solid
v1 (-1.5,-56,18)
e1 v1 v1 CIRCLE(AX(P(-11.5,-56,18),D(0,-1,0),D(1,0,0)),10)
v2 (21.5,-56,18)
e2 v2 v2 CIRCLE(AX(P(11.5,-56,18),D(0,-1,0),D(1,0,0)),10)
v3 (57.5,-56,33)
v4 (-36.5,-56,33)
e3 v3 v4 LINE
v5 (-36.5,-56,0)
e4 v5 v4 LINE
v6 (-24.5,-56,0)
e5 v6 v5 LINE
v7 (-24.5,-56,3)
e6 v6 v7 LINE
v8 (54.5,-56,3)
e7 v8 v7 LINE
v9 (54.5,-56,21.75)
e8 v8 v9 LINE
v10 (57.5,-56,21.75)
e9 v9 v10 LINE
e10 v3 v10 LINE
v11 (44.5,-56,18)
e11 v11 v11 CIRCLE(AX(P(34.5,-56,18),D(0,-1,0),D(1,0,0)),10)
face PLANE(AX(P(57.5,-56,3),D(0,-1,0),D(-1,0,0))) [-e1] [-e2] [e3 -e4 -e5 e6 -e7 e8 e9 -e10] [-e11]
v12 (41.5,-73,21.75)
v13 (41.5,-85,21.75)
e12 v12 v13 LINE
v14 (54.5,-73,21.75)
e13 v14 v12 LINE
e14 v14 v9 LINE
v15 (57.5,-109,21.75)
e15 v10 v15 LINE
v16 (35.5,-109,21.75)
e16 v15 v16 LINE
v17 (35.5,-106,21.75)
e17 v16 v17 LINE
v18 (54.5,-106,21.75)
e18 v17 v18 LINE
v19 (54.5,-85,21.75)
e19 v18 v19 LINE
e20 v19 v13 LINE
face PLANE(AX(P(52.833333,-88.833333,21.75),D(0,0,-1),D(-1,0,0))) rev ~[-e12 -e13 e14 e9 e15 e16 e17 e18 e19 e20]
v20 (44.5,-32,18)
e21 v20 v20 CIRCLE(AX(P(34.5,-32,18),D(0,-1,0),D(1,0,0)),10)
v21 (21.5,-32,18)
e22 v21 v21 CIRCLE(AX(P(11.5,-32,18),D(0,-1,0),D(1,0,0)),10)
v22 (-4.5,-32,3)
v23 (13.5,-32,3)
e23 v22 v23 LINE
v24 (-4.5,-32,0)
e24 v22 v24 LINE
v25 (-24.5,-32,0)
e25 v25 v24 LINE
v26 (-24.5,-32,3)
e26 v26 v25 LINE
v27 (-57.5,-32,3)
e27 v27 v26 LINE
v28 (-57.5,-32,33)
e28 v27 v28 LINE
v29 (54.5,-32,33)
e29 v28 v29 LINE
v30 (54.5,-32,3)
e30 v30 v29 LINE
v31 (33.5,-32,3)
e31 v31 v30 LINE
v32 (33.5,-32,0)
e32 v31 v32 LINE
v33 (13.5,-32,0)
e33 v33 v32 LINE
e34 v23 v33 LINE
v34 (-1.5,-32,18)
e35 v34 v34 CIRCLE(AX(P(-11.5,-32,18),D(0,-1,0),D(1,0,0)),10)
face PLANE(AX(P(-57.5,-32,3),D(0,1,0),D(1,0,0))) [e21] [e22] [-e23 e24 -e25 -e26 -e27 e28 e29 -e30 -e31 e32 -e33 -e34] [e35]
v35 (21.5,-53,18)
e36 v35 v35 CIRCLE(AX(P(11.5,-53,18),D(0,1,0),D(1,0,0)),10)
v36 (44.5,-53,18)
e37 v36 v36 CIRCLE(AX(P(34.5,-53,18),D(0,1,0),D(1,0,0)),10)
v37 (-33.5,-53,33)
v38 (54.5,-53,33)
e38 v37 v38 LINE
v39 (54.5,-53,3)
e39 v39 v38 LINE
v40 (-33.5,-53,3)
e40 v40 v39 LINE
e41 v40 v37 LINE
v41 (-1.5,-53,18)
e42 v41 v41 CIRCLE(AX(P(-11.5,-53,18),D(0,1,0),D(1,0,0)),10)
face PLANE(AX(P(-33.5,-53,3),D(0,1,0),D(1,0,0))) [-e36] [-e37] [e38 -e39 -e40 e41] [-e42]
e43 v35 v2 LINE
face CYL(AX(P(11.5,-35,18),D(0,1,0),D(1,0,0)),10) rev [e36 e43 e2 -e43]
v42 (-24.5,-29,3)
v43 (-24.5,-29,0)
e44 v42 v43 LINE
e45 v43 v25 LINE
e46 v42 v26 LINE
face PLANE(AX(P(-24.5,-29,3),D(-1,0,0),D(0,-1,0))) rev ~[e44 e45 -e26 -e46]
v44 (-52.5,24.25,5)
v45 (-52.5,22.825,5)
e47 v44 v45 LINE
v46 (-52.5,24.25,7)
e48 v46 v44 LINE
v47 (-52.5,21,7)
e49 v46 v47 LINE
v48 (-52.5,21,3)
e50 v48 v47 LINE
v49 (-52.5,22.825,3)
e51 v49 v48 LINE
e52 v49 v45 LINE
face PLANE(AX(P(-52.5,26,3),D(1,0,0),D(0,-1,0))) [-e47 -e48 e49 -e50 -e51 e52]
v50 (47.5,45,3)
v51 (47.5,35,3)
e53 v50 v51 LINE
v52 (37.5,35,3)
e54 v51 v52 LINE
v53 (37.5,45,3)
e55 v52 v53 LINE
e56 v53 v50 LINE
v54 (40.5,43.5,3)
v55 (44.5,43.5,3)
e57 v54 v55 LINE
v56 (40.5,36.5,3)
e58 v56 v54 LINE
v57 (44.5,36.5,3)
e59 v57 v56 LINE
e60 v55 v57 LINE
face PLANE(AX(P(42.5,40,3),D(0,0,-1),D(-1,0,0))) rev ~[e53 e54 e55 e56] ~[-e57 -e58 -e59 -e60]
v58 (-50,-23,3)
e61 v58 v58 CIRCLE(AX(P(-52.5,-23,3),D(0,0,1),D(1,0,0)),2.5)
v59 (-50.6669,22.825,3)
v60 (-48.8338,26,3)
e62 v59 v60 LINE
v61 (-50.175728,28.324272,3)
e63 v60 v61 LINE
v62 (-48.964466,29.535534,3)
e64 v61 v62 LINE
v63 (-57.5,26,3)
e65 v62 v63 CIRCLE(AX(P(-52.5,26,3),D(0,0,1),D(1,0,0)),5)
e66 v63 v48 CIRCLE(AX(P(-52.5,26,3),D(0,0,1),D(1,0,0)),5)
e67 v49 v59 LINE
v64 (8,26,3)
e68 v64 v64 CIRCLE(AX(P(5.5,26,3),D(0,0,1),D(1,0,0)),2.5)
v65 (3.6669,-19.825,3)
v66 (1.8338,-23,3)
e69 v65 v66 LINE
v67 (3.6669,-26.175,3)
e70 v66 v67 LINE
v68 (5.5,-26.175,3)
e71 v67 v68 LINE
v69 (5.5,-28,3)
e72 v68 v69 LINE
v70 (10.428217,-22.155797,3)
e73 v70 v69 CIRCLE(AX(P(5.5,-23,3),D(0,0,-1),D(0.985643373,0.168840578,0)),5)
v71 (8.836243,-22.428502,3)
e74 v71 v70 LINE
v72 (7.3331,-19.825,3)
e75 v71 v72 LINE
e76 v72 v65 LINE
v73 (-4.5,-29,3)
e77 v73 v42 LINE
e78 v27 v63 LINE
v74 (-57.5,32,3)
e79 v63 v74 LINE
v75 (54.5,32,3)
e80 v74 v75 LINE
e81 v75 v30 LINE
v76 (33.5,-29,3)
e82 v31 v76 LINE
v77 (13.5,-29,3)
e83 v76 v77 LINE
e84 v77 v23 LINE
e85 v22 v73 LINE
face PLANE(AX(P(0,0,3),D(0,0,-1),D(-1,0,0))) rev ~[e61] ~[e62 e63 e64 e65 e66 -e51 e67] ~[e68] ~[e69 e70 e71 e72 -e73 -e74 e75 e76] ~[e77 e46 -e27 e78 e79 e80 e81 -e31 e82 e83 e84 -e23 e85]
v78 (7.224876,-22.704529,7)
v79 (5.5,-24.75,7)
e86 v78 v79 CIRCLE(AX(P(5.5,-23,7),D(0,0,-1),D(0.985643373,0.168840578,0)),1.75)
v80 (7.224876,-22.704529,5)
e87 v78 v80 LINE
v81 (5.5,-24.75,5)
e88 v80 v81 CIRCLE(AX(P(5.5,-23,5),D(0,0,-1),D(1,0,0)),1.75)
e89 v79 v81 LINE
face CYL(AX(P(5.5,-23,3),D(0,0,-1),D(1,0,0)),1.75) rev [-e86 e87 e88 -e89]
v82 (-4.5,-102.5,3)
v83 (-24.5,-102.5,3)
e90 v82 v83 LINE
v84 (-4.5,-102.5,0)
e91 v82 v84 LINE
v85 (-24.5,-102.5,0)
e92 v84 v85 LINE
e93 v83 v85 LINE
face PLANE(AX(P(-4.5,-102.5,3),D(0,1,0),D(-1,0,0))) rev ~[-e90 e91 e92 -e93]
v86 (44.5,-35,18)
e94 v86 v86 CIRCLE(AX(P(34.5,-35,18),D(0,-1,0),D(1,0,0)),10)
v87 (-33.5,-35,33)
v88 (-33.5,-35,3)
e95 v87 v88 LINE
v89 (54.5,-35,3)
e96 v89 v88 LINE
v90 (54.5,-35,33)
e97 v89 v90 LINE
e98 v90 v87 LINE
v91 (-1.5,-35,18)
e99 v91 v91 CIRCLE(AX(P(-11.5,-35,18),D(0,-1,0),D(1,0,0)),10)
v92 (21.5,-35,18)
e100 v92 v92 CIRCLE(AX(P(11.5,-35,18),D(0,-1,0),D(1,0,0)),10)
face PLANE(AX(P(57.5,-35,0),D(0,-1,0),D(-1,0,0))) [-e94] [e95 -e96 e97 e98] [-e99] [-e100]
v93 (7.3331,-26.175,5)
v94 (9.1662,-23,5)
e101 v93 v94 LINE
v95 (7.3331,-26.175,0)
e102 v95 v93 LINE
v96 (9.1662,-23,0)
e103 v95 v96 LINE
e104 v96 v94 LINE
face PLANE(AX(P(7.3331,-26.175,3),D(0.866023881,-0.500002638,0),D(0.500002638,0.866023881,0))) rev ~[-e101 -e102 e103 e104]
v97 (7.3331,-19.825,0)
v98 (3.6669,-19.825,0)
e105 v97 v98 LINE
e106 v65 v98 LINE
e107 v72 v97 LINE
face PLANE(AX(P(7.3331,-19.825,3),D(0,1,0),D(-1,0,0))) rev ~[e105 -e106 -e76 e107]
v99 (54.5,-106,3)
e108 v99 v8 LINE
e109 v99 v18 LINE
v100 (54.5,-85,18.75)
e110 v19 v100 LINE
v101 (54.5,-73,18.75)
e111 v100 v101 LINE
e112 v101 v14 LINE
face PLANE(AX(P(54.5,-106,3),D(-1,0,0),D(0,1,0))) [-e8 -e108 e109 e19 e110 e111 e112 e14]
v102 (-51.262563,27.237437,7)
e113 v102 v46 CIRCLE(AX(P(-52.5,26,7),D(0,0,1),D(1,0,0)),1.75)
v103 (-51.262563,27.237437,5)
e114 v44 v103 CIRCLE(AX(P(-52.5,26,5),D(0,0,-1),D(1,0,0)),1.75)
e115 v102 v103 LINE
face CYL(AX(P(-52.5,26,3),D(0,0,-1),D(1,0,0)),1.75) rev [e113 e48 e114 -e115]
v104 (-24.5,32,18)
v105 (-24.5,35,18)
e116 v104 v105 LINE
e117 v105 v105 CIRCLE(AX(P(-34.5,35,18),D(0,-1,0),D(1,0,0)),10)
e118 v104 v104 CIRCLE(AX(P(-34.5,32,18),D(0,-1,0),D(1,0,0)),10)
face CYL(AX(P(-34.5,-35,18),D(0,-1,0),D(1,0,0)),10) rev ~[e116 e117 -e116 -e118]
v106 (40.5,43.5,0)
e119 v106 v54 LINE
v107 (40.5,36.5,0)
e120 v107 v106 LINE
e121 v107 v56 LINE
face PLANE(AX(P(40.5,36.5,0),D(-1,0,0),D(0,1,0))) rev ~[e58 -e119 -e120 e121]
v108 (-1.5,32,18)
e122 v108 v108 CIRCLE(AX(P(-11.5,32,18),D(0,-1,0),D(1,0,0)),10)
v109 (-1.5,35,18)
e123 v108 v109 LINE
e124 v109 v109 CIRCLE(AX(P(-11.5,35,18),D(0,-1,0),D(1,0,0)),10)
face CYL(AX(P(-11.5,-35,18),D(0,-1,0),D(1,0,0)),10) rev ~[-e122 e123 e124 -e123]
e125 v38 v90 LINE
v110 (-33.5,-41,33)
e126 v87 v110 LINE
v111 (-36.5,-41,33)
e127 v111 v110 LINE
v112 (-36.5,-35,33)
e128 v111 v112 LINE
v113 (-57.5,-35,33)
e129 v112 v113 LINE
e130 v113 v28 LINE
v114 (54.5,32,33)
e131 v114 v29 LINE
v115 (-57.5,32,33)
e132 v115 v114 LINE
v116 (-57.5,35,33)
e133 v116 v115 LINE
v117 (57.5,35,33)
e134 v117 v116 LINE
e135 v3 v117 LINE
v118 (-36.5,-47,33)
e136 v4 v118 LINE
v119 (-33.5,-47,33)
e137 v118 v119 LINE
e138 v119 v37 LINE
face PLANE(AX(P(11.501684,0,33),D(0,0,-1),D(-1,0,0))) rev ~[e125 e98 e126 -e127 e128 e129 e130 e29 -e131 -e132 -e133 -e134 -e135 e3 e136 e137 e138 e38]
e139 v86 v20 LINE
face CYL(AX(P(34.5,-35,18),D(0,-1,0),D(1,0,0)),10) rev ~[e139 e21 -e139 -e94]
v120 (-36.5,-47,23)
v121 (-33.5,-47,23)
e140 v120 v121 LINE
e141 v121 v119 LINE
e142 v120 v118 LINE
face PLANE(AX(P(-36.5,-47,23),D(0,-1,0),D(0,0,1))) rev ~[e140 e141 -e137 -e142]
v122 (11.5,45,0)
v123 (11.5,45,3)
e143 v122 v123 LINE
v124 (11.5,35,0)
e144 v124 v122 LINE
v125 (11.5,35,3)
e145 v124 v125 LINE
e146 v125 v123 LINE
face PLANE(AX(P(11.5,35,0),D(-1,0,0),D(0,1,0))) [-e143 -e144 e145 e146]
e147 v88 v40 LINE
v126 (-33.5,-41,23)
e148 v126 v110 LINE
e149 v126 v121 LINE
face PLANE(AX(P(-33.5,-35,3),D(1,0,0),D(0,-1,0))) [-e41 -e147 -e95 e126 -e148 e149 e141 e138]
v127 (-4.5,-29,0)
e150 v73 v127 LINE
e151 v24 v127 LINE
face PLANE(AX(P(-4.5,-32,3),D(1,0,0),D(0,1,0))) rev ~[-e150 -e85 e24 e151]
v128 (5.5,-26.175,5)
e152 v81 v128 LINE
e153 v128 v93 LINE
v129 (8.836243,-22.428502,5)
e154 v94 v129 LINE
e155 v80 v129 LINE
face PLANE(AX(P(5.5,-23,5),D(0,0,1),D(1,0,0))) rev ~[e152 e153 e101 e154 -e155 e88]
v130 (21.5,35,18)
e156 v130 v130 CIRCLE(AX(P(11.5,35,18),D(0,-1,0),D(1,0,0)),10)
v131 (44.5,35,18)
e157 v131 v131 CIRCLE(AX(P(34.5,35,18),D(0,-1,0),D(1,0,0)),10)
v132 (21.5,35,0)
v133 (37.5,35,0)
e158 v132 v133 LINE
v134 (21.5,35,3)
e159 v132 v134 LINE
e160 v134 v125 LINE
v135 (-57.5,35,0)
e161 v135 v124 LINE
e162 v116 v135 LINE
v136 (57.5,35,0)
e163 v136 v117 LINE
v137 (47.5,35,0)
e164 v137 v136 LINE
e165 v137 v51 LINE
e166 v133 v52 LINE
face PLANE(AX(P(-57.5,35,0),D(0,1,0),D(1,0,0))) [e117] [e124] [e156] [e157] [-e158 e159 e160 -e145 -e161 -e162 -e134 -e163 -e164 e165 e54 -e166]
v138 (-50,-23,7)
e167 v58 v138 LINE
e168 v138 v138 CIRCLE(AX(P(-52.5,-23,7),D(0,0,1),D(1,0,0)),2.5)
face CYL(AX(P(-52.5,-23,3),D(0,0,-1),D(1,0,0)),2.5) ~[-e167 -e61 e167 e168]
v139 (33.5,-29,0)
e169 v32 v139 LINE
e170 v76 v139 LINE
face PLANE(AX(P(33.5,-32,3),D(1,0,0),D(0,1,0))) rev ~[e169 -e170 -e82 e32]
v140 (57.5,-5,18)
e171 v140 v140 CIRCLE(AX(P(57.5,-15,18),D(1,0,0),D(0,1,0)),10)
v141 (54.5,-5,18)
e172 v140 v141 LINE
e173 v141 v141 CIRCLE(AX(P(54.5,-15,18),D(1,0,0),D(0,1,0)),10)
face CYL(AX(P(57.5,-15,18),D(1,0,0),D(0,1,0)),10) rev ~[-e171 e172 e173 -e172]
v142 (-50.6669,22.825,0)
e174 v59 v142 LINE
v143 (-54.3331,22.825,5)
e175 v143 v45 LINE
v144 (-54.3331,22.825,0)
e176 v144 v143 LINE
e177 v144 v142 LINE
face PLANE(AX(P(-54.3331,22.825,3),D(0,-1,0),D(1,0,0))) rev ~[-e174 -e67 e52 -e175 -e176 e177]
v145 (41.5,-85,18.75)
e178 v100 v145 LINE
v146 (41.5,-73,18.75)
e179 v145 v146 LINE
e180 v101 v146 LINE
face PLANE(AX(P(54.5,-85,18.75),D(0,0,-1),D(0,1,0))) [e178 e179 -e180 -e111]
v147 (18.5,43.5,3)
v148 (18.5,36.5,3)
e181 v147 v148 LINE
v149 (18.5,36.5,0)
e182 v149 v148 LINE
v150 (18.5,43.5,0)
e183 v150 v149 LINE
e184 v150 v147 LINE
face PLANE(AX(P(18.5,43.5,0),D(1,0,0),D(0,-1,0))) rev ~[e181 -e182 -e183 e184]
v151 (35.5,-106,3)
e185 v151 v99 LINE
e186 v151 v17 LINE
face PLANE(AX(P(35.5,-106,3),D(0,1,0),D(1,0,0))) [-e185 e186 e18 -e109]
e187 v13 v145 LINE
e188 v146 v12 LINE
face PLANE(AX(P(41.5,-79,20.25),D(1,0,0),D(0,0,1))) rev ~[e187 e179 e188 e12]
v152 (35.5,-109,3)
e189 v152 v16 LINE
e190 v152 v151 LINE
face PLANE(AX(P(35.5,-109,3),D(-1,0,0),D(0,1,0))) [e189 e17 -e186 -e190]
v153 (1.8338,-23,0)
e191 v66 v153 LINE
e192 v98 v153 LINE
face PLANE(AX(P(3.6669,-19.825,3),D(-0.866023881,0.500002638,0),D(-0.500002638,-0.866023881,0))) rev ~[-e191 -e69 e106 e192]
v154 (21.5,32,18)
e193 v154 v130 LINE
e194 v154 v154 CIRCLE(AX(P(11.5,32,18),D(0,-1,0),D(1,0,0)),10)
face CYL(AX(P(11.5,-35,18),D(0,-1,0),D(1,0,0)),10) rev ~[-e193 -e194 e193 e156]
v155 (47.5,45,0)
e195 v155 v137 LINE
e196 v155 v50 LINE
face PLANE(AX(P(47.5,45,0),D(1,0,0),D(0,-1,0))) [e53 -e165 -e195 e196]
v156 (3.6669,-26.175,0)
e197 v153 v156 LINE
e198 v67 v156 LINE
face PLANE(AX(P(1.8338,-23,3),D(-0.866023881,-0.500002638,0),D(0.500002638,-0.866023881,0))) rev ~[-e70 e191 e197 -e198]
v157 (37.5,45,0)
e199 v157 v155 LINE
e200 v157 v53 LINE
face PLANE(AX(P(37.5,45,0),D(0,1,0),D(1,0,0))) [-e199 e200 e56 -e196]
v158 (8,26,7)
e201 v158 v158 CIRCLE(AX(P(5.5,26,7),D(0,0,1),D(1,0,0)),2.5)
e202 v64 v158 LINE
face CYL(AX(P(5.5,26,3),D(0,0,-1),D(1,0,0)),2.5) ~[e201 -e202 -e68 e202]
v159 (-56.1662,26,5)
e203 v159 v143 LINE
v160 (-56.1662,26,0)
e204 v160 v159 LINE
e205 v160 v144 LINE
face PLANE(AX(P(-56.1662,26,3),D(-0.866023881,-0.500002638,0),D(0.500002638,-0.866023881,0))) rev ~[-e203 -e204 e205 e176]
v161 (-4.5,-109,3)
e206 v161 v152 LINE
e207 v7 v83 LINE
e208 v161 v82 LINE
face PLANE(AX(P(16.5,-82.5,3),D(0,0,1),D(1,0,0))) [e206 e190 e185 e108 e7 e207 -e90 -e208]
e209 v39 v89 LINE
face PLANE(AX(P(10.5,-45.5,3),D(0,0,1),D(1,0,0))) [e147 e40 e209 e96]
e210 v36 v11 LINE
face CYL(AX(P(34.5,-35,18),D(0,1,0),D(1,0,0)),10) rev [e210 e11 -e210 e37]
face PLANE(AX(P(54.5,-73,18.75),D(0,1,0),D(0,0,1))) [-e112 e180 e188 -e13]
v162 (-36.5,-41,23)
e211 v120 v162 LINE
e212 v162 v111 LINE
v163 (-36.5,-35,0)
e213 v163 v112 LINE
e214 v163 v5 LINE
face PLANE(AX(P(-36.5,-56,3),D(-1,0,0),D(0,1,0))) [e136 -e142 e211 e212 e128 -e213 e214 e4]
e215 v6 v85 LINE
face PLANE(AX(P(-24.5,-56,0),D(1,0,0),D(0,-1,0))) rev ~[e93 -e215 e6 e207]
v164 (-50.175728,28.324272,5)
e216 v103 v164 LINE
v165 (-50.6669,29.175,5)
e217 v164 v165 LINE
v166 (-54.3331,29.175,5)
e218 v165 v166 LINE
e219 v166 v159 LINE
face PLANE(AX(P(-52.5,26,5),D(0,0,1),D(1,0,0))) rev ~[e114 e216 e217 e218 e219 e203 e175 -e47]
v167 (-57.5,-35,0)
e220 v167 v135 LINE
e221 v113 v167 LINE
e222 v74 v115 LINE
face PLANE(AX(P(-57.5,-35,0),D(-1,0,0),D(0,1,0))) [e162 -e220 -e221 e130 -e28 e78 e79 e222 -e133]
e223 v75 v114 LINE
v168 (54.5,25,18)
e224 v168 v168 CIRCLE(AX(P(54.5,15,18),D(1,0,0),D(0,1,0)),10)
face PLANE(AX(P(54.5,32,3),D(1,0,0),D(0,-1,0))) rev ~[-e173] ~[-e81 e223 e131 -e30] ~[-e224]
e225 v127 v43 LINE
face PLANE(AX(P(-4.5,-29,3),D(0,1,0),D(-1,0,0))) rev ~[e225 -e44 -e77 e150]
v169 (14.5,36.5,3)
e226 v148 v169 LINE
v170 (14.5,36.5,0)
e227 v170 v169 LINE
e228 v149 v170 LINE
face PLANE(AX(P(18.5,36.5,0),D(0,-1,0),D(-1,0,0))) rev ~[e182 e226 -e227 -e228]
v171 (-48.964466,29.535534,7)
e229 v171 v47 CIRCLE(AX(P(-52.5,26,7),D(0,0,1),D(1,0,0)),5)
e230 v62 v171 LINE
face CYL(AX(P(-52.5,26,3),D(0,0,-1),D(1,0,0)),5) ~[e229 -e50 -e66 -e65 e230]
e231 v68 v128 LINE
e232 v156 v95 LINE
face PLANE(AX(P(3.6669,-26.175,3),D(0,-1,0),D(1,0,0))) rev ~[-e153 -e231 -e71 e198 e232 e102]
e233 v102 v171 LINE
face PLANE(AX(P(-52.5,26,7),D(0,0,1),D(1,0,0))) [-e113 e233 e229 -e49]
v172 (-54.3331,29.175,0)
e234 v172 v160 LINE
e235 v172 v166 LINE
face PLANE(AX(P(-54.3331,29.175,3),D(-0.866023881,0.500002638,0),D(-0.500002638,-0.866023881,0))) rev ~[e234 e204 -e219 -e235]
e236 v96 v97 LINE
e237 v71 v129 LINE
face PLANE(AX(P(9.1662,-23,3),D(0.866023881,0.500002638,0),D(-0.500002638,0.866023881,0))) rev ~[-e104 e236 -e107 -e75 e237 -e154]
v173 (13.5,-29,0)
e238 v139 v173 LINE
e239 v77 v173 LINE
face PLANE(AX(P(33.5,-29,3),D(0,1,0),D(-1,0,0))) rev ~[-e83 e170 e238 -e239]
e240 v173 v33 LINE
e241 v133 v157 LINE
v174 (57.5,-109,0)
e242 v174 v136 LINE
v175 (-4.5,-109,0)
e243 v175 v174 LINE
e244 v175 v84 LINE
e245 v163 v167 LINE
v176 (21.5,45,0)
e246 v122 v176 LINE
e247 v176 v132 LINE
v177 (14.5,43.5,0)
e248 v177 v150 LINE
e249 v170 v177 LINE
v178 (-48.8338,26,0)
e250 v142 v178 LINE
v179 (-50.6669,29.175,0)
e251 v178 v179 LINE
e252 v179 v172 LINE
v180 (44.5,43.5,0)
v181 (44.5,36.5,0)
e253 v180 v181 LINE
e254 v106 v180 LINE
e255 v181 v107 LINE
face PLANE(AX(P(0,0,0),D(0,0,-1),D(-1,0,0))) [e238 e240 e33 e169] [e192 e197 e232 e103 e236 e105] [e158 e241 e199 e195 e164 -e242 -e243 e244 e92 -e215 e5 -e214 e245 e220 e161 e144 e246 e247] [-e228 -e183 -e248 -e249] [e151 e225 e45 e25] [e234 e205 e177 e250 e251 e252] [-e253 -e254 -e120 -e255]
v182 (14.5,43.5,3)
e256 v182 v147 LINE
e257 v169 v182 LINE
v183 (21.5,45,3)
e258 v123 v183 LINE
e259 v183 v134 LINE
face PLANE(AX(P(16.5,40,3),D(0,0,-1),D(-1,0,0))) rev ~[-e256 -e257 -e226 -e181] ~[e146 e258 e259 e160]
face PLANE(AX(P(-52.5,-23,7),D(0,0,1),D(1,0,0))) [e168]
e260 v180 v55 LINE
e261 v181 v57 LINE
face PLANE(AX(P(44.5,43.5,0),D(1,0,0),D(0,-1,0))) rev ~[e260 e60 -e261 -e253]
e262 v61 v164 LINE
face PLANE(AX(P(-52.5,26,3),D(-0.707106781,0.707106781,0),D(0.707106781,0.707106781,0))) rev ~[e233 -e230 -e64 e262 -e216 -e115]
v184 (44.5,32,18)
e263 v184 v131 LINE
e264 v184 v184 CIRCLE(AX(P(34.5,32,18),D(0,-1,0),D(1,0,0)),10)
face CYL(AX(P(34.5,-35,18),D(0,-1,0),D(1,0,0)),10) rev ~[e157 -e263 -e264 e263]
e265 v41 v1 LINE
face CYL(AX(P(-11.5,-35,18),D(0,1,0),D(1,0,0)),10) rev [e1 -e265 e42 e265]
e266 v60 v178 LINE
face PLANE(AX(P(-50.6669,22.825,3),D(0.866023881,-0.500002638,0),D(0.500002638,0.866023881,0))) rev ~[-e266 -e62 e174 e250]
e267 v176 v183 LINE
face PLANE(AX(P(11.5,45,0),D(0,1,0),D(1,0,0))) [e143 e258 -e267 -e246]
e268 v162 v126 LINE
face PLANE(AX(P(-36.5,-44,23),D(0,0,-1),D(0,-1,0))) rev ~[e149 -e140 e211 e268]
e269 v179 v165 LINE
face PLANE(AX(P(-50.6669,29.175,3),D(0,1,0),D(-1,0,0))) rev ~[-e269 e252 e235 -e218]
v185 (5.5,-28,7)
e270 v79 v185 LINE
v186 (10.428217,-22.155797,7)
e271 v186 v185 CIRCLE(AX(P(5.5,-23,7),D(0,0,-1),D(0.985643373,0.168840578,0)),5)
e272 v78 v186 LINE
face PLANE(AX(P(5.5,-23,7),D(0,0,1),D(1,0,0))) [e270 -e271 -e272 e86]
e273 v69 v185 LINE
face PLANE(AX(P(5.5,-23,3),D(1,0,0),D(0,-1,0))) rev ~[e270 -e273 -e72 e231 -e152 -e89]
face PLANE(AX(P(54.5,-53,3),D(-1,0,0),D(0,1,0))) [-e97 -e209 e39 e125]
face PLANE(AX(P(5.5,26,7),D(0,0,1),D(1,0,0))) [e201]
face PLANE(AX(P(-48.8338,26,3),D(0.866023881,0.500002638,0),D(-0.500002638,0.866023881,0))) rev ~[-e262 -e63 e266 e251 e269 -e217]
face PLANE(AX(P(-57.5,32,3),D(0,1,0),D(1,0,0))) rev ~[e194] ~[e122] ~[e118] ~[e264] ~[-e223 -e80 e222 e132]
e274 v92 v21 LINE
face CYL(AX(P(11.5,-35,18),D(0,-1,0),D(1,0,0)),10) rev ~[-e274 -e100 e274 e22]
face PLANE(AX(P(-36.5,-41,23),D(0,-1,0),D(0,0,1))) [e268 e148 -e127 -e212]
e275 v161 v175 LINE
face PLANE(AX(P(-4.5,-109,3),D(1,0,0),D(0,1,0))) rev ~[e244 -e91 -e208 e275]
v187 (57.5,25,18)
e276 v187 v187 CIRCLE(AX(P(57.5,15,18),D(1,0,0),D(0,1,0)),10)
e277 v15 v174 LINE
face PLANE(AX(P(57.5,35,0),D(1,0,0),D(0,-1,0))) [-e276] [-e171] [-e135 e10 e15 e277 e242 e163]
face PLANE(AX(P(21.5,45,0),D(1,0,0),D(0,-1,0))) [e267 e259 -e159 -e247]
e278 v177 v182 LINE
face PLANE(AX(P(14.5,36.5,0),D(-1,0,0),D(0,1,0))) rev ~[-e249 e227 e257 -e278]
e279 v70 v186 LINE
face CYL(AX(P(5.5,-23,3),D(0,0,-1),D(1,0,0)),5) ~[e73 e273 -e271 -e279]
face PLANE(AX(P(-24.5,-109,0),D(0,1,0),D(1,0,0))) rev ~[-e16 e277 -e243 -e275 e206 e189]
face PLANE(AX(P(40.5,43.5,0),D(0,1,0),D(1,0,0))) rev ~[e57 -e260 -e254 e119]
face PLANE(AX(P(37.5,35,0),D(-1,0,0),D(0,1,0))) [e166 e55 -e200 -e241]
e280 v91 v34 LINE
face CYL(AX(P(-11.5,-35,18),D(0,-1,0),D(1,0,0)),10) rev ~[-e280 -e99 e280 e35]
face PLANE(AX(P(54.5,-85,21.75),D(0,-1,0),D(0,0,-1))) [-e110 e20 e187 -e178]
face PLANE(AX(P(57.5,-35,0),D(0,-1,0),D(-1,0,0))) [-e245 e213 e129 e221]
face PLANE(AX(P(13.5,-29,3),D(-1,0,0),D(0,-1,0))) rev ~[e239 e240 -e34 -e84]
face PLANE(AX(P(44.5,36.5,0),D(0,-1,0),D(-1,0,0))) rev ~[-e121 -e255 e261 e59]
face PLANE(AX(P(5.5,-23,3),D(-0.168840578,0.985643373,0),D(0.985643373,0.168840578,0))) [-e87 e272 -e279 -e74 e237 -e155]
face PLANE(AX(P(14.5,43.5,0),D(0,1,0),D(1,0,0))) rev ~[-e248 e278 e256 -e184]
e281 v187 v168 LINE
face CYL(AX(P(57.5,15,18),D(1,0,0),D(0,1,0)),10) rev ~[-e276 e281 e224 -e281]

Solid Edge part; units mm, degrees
sketch "Sketch1" plane through (0, 0, 0) normal (0, 0, 1) x (1, 0, 0)
  line L0 (57.5, -35) -> (-57.5, -35)
  line L1 (-57.5, -35) -> (-57.5, 35)
  line L2 (-57.5, 35) -> (57.5, 35)
  line L3 (57.5, 35) -> (57.5, -35)
extrude "Protrusion1" add sketch "Sketch1" along normal blind 3
sketch "Sketch2" plane through (0, 0, 3) normal (0, 0, 1) x (1, 0, 0)
  circle A0 centre (-52.5, -23) radius 2.5
  circle A1 centre (5.5, 26) radius 2.5
  circle A2 centre (5.5, -23) radius 5
  circle A3 centre (5.5, -23) radius 1.75
  circle A4 centre (-52.5, 26) radius 1.75
  circle A5 centre (-52.5, 26) radius 5
  dimension "D1" = 5
  dimension "D2" = 5
  dimension "D3" = 3.5
  dimension "D4" = 10
  dimension "D5" = 49
  dimension "D6" = 3.5
  dimension "D7" = 10
  dimension "D8" = 49
  dimension "D9" = 58
  dimension "D10" = 5
  dimension "D11" = 12
extrude "ExtrudedProtrusion_2" add sketch "Sketch2" along normal blind 4
sketch "Sketch3" plane through (0, 0, 3) normal (0, 0, 1) x (1, 0, 0)
  line L0 (-52.5, 26) -> (-52.5, 21)
  line L1 (-52.5, 26) -> (-48.9645, 29.5355)
  arc A0 (-48.9645, 29.5355) -> (-52.5, 21) centre (-52.5, 26) cw
  line L2 (5.5, -23) -> (5.5, -28)
  line L3 (5.5, -23) -> (10.4282, -22.1558)
  arc A1 (5.5, -28) -> (10.4282, -22.1558) centre (5.5, -23) cw
extrude "ExtrudedCutout_1" cut sketch "Sketch3" along normal blind 4
sketch "Sketch4" plane through (0, 0, 3) normal (0, 0, 1) x (1, 0, 0)
  line L0 (-48.8338, 26) -> (-50.6669, 29.175)
  line L1 (-50.6669, 29.175) -> (-54.3331, 29.175)
  line L2 (-54.3331, 29.175) -> (-56.1662, 26)
  line L3 (-56.1662, 26) -> (-54.3331, 22.825)
  line L4 (-54.3331, 22.825) -> (-50.6669, 22.825)
  line L5 (-50.6669, 22.825) -> (-48.8338, 26)
  line L6 (1.8338, -23) -> (3.6669, -26.175)
  line L7 (3.6669, -26.175) -> (7.3331, -26.175)
  line L8 (7.3331, -26.175) -> (9.1662, -23)
  line L9 (9.1662, -23) -> (7.3331, -19.825)
  line L10 (7.3331, -19.825) -> (3.6669, -19.825)
  line L11 (3.6669, -19.825) -> (1.8338, -23)
  dimension "D1" = 6.35
  dimension "D2" = 6.35
extrude "Cutout1" cut sketch "Sketch4" against normal up to vertex (3 mm away)
sketch "Sketch5" plane through (0, 0, 3) normal (0, 0, 1) x (1, 0, 0)
  line L0 (-50.6669, 22.825) -> (-48.8338, 26)
  line L1 (-48.8338, 26) -> (-50.6669, 29.175)
  line L2 (-50.6669, 29.175) -> (-54.3331, 29.175)
  line L3 (-54.3331, 29.175) -> (-56.1662, 26)
  line L4 (-56.1662, 26) -> (-54.3331, 22.825)
  line L5 (-54.3331, 22.825) -> (-50.6669, 22.825)
extrude "ExtrudedCutout_3" cut sketch "Sketch5" along normal blind 2
sketch "Sketch6" plane through (0, 0, 3) normal (0, 0, 1) x (1, 0, 0)
  line L0 (1.8338, -23) -> (3.6669, -26.175)
  line L1 (3.6669, -26.175) -> (7.3331, -26.175)
  line L2 (7.3331, -26.175) -> (9.1662, -23)
  line L3 (9.1662, -23) -> (7.3331, -19.825)
  line L4 (7.3331, -19.825) -> (3.6669, -19.825)
  line L5 (3.6669, -19.825) -> (1.8338, -23)
extrude "ExtrudedCutout_4" cut sketch "Sketch6" along normal blind 2
extrude "ExtrudedCutout_5" [suppressed]
sketch "Sketch7" plane through (0, 0, 3) normal (0, 0, 1) x (1, 0, 0)
  line L0 (57.5, -35) -> (-57.5, -35)
  line L1 (-57.5, -35) -> (-57.5, -32)
  line L2 (-57.5, -32) -> (54.5, -32)
  line L3 (54.5, 32) -> (54.5, -32)
  line L4 (-57.5, 32) -> (54.5, 32)
  line L5 (-57.5, 35) -> (-57.5, 32)
  line L6 (57.5, 35) -> (-57.5, 35)
  line L7 (57.5, 32) -> (57.5, 35)
  line L8 (57.5, 32) -> (57.5, -35)
extrude "ExtrudedProtrusion_6" add sketch "Sketch7" along normal blind 30
sketch "Sketch8" plane through (0, 0, 0) normal (0, 0, -1) x (1, 0, 0)
  line L0 (37.5, -45) -> (47.5, -45)
  line L1 (47.5, -45) -> (47.5, -35)
  line L2 (47.5, -35) -> (37.5, -35)
  line L3 (37.5, -35) -> (37.5, -45)
  line L4 (40.5, -43.5) -> (44.5, -43.5)
  line L5 (44.5, -43.5) -> (44.5, -36.5)
  line L6 (44.5, -36.5) -> (40.5, -36.5)
  line L7 (40.5, -36.5) -> (40.5, -43.5)
  line L8 (11.5, -45) -> (21.5, -45)
  line L9 (21.5, -45) -> (21.5, -35)
  line L10 (21.5, -35) -> (11.5, -35)
  line L11 (11.5, -35) -> (11.5, -45)
  line L12 (14.5, -43.5) -> (18.5, -43.5)
  line L13 (18.5, -43.5) -> (18.5, -36.5)
  line L14 (18.5, -36.5) -> (14.5, -36.5)
  line L15 (14.5, -36.5) -> (14.5, -43.5)
  dimension "D1" = 10
  dimension "D2" = 4
  dimension "D3" = 7
  dimension "D4" = 10
  dimension "D5" = 10
  dimension "D6" = 22
  dimension "D7" = 3
  dimension "D8" = 1.5
  dimension "D9" = 1.5
  dimension "D10" = 3
  dimension "D11" = 10
extrude "ExtrudedProtrusion_7" add sketch "Sketch8" against normal blind 3
sketch "Sketch9" plane through (-0.75, -35, 16.5) normal (0, -1, 0) x (1, 0, 0)
  circle A0 centre (-33.75, 1.5) radius 10
  circle A1 centre (-10.75, 1.5) radius 10
  circle A2 centre (12.25, 1.5) radius 10
  circle A3 centre (35.25, 1.5) radius 10
  dimension "D1" = 20
  dimension "D2" = 23
  dimension "D3" = 23
  dimension "D4" = 23
  dimension "D5" = 23
extrude "Cutout2" cut sketch "Sketch9" against normal up to vertex (70 mm away)
sketch "Sketch10" plane through (57.5, 0.75, 16.5) normal (1, 0, 0) x (0, 1, 0)
  circle A0 centre (-15.75, 1.5) radius 10
  circle A1 centre (14.25, 1.5) radius 10
  dimension "D1" = 20
  dimension "D2" = 15
  dimension "D3" = 15
extrude "Cutout3" cut sketch "Sketch10" against normal up to vertex (3 mm away)
sketch "Sketch11" plane through (0, 5, 0) normal (0, 0, -1) x (1, 0, 0)
  line L0 (-36.5, 40) -> (-36.5, 61)
  line L1 (57.5, 61) -> (-36.5, 61)
  line L2 (57.5, 40) -> (57.5, 61)
  line L3 (57.5, 40) -> (-36.5, 40)
extrude "ExtrudedProtrusion_10" add sketch "Sketch11" against normal blind 3
sketch "Sketch12" plane through (10.5, -45.5, 3) normal (0, 0, 1) x (1, 0, 0)
  line L0 (-44, -7.5) -> (44, -7.5)
  line L1 (44, -7.5) -> (44, 10.5)
  line L2 (44, 10.5) -> (47, 10.5)
  line L3 (47, 10.5) -> (47, -10.5)
  line L4 (47, -10.5) -> (-47, -10.5)
  line L5 (-47, -10.5) -> (-47, 10.5)
  line L6 (-47, 10.5) -> (-44, 10.5)
  line L7 (-44, 10.5) -> (-44, -7.5)
extrude "Protrusion2" add sketch "Sketch12" along normal up to vertex (30 mm away)
sketch "Sketch13" plane through (-0.75, -35, 16.5) normal (0, -1, 0) x (1, 0, 0)
  circle A0 centre (-33.75, 1.5) radius 10
extrude "Protrusion3" add sketch "Sketch13" against normal up to vertex (3 mm away)
sketch "Sketch14" plane through (-0.75, -35, 16.5) normal (0, -1, 0) x (1, 0, 0)
  circle A0 centre (35.25, 1.5) radius 10
  circle A1 centre (12.25, 1.5) radius 10
  circle A2 centre (-10.75, 1.5) radius 10
  dimension "D1" = 20
  dimension "D2" = 23
  dimension "D3" = 23
  dimension "D4" = 23
  dimension "D5" = 23
extrude "Cutout4" cut sketch "Sketch14" along normal up to vertex (21 mm away)
sketch "Sketch15" plane through (0, 0, 0) normal (0, 0, 1) x (1, 0, 0)
  line L0 (-24.5, -109) -> (57.5, -109)
  line L1 (57.5, -109) -> (57.5, -56)
  line L2 (57.5, -56) -> (-24.5, -56)
  line L3 (-24.5, -56) -> (-24.5, -109)
extrude "Protrusion4" add sketch "Sketch15" along normal up to vertex (3 mm away)
sketch "Sketch16" plane through (13.5, -82, 3) normal (0, 0, 1) x (0, -1, 0)
  line L0 (24, 22) -> (24, 41)
  line L1 (24, 41) -> (-26, 41)
  line L2 (-26, 41) -> (-26, 44)
  line L3 (-26, 44) -> (27, 44)
  line L4 (27, 44) -> (27, 22)
  line L5 (27, 22) -> (24, 22)
extrude "ExtrudedProtrusion_18" add sketch "Sketch16" along normal blind 18.75
extrude "ExtrudedProtrusion_13" [suppressed]
sketch "Sketch17" plane through (-36.5, -45.5, 16.5) normal (-1, 0, 0) x (0, -1, 0)
  line L0 (-1.5, 6.5) -> (1.5, 6.5)
  line L1 (1.5, 6.5) -> (1.5, 16.5)
  line L2 (1.5, 16.5) -> (-1.5, 16.5)
  line L3 (-4.5, 16.5) -> (-1.5, 16.5)
  line L4 (-4.5, 6.5) -> (-4.5, 16.5)
  line L5 (-1.5, 6.5) -> (-4.5, 6.5)
extrude "ExtrudedCutout_12" cut sketch "Sketch17" against normal blind 3
sketch "Sketch18" plane through (-1.5, 0, 3) normal (0, 0, 1) x (0, -1, 0)
  line L0 (29, 15) -> (32, 15)
  line L1 (32, 15) -> (32, 35)
  line L2 (32, 35) -> (29, 35)
  line L3 (29, 35) -> (29, 15)
  line L4 (32, -3) -> (29, -3)
  line L5 (29, -3) -> (29, -23)
  line L6 (29, -23) -> (32, -23)
  line L7 (32, -23) -> (32, -3)
  line L8 (109, -3) -> (102.5, -3)
  line L9 (102.5, -3) -> (102.5, -23)
  line L10 (102.5, -23) -> (109, -23)
  line L11 (109, -23) -> (109, -3)
  dimension "D1" = 21
  dimension "D2" = 20
  dimension "D3" = 3
  dimension "D4" = 18
  dimension "D5" = 20
  dimension "D6" = 6.5
extrude "ExtrudedCutout_13" cut sketch "Sketch18" against normal blind 3
sketch "Sketch19" plane through (54.5, -84.5, 13) normal (-1, 0, 0) x (0, -1, 0)
  line L0 (0.5, 5.75) -> (-11.5, 5.75)
  line L1 (-11.5, 5.75) -> (-11.5, 8.75)
  line L2 (-11.5, 8.75) -> (0.5, 8.75)
  line L3 (0.5, 8.75) -> (0.5, 5.75)
extrude "ExtrudedProtrusion_19" add sketch "Sketch19" along normal blind 13
fillet "Round_2" [suppressed]
fillet "Round_3" [suppressed]
extrude "Cutout5" [suppressed]
extrude "Cutout6" [suppressed]
fillet "Round_4" [suppressed]
fillet "Round_5" [suppressed]
